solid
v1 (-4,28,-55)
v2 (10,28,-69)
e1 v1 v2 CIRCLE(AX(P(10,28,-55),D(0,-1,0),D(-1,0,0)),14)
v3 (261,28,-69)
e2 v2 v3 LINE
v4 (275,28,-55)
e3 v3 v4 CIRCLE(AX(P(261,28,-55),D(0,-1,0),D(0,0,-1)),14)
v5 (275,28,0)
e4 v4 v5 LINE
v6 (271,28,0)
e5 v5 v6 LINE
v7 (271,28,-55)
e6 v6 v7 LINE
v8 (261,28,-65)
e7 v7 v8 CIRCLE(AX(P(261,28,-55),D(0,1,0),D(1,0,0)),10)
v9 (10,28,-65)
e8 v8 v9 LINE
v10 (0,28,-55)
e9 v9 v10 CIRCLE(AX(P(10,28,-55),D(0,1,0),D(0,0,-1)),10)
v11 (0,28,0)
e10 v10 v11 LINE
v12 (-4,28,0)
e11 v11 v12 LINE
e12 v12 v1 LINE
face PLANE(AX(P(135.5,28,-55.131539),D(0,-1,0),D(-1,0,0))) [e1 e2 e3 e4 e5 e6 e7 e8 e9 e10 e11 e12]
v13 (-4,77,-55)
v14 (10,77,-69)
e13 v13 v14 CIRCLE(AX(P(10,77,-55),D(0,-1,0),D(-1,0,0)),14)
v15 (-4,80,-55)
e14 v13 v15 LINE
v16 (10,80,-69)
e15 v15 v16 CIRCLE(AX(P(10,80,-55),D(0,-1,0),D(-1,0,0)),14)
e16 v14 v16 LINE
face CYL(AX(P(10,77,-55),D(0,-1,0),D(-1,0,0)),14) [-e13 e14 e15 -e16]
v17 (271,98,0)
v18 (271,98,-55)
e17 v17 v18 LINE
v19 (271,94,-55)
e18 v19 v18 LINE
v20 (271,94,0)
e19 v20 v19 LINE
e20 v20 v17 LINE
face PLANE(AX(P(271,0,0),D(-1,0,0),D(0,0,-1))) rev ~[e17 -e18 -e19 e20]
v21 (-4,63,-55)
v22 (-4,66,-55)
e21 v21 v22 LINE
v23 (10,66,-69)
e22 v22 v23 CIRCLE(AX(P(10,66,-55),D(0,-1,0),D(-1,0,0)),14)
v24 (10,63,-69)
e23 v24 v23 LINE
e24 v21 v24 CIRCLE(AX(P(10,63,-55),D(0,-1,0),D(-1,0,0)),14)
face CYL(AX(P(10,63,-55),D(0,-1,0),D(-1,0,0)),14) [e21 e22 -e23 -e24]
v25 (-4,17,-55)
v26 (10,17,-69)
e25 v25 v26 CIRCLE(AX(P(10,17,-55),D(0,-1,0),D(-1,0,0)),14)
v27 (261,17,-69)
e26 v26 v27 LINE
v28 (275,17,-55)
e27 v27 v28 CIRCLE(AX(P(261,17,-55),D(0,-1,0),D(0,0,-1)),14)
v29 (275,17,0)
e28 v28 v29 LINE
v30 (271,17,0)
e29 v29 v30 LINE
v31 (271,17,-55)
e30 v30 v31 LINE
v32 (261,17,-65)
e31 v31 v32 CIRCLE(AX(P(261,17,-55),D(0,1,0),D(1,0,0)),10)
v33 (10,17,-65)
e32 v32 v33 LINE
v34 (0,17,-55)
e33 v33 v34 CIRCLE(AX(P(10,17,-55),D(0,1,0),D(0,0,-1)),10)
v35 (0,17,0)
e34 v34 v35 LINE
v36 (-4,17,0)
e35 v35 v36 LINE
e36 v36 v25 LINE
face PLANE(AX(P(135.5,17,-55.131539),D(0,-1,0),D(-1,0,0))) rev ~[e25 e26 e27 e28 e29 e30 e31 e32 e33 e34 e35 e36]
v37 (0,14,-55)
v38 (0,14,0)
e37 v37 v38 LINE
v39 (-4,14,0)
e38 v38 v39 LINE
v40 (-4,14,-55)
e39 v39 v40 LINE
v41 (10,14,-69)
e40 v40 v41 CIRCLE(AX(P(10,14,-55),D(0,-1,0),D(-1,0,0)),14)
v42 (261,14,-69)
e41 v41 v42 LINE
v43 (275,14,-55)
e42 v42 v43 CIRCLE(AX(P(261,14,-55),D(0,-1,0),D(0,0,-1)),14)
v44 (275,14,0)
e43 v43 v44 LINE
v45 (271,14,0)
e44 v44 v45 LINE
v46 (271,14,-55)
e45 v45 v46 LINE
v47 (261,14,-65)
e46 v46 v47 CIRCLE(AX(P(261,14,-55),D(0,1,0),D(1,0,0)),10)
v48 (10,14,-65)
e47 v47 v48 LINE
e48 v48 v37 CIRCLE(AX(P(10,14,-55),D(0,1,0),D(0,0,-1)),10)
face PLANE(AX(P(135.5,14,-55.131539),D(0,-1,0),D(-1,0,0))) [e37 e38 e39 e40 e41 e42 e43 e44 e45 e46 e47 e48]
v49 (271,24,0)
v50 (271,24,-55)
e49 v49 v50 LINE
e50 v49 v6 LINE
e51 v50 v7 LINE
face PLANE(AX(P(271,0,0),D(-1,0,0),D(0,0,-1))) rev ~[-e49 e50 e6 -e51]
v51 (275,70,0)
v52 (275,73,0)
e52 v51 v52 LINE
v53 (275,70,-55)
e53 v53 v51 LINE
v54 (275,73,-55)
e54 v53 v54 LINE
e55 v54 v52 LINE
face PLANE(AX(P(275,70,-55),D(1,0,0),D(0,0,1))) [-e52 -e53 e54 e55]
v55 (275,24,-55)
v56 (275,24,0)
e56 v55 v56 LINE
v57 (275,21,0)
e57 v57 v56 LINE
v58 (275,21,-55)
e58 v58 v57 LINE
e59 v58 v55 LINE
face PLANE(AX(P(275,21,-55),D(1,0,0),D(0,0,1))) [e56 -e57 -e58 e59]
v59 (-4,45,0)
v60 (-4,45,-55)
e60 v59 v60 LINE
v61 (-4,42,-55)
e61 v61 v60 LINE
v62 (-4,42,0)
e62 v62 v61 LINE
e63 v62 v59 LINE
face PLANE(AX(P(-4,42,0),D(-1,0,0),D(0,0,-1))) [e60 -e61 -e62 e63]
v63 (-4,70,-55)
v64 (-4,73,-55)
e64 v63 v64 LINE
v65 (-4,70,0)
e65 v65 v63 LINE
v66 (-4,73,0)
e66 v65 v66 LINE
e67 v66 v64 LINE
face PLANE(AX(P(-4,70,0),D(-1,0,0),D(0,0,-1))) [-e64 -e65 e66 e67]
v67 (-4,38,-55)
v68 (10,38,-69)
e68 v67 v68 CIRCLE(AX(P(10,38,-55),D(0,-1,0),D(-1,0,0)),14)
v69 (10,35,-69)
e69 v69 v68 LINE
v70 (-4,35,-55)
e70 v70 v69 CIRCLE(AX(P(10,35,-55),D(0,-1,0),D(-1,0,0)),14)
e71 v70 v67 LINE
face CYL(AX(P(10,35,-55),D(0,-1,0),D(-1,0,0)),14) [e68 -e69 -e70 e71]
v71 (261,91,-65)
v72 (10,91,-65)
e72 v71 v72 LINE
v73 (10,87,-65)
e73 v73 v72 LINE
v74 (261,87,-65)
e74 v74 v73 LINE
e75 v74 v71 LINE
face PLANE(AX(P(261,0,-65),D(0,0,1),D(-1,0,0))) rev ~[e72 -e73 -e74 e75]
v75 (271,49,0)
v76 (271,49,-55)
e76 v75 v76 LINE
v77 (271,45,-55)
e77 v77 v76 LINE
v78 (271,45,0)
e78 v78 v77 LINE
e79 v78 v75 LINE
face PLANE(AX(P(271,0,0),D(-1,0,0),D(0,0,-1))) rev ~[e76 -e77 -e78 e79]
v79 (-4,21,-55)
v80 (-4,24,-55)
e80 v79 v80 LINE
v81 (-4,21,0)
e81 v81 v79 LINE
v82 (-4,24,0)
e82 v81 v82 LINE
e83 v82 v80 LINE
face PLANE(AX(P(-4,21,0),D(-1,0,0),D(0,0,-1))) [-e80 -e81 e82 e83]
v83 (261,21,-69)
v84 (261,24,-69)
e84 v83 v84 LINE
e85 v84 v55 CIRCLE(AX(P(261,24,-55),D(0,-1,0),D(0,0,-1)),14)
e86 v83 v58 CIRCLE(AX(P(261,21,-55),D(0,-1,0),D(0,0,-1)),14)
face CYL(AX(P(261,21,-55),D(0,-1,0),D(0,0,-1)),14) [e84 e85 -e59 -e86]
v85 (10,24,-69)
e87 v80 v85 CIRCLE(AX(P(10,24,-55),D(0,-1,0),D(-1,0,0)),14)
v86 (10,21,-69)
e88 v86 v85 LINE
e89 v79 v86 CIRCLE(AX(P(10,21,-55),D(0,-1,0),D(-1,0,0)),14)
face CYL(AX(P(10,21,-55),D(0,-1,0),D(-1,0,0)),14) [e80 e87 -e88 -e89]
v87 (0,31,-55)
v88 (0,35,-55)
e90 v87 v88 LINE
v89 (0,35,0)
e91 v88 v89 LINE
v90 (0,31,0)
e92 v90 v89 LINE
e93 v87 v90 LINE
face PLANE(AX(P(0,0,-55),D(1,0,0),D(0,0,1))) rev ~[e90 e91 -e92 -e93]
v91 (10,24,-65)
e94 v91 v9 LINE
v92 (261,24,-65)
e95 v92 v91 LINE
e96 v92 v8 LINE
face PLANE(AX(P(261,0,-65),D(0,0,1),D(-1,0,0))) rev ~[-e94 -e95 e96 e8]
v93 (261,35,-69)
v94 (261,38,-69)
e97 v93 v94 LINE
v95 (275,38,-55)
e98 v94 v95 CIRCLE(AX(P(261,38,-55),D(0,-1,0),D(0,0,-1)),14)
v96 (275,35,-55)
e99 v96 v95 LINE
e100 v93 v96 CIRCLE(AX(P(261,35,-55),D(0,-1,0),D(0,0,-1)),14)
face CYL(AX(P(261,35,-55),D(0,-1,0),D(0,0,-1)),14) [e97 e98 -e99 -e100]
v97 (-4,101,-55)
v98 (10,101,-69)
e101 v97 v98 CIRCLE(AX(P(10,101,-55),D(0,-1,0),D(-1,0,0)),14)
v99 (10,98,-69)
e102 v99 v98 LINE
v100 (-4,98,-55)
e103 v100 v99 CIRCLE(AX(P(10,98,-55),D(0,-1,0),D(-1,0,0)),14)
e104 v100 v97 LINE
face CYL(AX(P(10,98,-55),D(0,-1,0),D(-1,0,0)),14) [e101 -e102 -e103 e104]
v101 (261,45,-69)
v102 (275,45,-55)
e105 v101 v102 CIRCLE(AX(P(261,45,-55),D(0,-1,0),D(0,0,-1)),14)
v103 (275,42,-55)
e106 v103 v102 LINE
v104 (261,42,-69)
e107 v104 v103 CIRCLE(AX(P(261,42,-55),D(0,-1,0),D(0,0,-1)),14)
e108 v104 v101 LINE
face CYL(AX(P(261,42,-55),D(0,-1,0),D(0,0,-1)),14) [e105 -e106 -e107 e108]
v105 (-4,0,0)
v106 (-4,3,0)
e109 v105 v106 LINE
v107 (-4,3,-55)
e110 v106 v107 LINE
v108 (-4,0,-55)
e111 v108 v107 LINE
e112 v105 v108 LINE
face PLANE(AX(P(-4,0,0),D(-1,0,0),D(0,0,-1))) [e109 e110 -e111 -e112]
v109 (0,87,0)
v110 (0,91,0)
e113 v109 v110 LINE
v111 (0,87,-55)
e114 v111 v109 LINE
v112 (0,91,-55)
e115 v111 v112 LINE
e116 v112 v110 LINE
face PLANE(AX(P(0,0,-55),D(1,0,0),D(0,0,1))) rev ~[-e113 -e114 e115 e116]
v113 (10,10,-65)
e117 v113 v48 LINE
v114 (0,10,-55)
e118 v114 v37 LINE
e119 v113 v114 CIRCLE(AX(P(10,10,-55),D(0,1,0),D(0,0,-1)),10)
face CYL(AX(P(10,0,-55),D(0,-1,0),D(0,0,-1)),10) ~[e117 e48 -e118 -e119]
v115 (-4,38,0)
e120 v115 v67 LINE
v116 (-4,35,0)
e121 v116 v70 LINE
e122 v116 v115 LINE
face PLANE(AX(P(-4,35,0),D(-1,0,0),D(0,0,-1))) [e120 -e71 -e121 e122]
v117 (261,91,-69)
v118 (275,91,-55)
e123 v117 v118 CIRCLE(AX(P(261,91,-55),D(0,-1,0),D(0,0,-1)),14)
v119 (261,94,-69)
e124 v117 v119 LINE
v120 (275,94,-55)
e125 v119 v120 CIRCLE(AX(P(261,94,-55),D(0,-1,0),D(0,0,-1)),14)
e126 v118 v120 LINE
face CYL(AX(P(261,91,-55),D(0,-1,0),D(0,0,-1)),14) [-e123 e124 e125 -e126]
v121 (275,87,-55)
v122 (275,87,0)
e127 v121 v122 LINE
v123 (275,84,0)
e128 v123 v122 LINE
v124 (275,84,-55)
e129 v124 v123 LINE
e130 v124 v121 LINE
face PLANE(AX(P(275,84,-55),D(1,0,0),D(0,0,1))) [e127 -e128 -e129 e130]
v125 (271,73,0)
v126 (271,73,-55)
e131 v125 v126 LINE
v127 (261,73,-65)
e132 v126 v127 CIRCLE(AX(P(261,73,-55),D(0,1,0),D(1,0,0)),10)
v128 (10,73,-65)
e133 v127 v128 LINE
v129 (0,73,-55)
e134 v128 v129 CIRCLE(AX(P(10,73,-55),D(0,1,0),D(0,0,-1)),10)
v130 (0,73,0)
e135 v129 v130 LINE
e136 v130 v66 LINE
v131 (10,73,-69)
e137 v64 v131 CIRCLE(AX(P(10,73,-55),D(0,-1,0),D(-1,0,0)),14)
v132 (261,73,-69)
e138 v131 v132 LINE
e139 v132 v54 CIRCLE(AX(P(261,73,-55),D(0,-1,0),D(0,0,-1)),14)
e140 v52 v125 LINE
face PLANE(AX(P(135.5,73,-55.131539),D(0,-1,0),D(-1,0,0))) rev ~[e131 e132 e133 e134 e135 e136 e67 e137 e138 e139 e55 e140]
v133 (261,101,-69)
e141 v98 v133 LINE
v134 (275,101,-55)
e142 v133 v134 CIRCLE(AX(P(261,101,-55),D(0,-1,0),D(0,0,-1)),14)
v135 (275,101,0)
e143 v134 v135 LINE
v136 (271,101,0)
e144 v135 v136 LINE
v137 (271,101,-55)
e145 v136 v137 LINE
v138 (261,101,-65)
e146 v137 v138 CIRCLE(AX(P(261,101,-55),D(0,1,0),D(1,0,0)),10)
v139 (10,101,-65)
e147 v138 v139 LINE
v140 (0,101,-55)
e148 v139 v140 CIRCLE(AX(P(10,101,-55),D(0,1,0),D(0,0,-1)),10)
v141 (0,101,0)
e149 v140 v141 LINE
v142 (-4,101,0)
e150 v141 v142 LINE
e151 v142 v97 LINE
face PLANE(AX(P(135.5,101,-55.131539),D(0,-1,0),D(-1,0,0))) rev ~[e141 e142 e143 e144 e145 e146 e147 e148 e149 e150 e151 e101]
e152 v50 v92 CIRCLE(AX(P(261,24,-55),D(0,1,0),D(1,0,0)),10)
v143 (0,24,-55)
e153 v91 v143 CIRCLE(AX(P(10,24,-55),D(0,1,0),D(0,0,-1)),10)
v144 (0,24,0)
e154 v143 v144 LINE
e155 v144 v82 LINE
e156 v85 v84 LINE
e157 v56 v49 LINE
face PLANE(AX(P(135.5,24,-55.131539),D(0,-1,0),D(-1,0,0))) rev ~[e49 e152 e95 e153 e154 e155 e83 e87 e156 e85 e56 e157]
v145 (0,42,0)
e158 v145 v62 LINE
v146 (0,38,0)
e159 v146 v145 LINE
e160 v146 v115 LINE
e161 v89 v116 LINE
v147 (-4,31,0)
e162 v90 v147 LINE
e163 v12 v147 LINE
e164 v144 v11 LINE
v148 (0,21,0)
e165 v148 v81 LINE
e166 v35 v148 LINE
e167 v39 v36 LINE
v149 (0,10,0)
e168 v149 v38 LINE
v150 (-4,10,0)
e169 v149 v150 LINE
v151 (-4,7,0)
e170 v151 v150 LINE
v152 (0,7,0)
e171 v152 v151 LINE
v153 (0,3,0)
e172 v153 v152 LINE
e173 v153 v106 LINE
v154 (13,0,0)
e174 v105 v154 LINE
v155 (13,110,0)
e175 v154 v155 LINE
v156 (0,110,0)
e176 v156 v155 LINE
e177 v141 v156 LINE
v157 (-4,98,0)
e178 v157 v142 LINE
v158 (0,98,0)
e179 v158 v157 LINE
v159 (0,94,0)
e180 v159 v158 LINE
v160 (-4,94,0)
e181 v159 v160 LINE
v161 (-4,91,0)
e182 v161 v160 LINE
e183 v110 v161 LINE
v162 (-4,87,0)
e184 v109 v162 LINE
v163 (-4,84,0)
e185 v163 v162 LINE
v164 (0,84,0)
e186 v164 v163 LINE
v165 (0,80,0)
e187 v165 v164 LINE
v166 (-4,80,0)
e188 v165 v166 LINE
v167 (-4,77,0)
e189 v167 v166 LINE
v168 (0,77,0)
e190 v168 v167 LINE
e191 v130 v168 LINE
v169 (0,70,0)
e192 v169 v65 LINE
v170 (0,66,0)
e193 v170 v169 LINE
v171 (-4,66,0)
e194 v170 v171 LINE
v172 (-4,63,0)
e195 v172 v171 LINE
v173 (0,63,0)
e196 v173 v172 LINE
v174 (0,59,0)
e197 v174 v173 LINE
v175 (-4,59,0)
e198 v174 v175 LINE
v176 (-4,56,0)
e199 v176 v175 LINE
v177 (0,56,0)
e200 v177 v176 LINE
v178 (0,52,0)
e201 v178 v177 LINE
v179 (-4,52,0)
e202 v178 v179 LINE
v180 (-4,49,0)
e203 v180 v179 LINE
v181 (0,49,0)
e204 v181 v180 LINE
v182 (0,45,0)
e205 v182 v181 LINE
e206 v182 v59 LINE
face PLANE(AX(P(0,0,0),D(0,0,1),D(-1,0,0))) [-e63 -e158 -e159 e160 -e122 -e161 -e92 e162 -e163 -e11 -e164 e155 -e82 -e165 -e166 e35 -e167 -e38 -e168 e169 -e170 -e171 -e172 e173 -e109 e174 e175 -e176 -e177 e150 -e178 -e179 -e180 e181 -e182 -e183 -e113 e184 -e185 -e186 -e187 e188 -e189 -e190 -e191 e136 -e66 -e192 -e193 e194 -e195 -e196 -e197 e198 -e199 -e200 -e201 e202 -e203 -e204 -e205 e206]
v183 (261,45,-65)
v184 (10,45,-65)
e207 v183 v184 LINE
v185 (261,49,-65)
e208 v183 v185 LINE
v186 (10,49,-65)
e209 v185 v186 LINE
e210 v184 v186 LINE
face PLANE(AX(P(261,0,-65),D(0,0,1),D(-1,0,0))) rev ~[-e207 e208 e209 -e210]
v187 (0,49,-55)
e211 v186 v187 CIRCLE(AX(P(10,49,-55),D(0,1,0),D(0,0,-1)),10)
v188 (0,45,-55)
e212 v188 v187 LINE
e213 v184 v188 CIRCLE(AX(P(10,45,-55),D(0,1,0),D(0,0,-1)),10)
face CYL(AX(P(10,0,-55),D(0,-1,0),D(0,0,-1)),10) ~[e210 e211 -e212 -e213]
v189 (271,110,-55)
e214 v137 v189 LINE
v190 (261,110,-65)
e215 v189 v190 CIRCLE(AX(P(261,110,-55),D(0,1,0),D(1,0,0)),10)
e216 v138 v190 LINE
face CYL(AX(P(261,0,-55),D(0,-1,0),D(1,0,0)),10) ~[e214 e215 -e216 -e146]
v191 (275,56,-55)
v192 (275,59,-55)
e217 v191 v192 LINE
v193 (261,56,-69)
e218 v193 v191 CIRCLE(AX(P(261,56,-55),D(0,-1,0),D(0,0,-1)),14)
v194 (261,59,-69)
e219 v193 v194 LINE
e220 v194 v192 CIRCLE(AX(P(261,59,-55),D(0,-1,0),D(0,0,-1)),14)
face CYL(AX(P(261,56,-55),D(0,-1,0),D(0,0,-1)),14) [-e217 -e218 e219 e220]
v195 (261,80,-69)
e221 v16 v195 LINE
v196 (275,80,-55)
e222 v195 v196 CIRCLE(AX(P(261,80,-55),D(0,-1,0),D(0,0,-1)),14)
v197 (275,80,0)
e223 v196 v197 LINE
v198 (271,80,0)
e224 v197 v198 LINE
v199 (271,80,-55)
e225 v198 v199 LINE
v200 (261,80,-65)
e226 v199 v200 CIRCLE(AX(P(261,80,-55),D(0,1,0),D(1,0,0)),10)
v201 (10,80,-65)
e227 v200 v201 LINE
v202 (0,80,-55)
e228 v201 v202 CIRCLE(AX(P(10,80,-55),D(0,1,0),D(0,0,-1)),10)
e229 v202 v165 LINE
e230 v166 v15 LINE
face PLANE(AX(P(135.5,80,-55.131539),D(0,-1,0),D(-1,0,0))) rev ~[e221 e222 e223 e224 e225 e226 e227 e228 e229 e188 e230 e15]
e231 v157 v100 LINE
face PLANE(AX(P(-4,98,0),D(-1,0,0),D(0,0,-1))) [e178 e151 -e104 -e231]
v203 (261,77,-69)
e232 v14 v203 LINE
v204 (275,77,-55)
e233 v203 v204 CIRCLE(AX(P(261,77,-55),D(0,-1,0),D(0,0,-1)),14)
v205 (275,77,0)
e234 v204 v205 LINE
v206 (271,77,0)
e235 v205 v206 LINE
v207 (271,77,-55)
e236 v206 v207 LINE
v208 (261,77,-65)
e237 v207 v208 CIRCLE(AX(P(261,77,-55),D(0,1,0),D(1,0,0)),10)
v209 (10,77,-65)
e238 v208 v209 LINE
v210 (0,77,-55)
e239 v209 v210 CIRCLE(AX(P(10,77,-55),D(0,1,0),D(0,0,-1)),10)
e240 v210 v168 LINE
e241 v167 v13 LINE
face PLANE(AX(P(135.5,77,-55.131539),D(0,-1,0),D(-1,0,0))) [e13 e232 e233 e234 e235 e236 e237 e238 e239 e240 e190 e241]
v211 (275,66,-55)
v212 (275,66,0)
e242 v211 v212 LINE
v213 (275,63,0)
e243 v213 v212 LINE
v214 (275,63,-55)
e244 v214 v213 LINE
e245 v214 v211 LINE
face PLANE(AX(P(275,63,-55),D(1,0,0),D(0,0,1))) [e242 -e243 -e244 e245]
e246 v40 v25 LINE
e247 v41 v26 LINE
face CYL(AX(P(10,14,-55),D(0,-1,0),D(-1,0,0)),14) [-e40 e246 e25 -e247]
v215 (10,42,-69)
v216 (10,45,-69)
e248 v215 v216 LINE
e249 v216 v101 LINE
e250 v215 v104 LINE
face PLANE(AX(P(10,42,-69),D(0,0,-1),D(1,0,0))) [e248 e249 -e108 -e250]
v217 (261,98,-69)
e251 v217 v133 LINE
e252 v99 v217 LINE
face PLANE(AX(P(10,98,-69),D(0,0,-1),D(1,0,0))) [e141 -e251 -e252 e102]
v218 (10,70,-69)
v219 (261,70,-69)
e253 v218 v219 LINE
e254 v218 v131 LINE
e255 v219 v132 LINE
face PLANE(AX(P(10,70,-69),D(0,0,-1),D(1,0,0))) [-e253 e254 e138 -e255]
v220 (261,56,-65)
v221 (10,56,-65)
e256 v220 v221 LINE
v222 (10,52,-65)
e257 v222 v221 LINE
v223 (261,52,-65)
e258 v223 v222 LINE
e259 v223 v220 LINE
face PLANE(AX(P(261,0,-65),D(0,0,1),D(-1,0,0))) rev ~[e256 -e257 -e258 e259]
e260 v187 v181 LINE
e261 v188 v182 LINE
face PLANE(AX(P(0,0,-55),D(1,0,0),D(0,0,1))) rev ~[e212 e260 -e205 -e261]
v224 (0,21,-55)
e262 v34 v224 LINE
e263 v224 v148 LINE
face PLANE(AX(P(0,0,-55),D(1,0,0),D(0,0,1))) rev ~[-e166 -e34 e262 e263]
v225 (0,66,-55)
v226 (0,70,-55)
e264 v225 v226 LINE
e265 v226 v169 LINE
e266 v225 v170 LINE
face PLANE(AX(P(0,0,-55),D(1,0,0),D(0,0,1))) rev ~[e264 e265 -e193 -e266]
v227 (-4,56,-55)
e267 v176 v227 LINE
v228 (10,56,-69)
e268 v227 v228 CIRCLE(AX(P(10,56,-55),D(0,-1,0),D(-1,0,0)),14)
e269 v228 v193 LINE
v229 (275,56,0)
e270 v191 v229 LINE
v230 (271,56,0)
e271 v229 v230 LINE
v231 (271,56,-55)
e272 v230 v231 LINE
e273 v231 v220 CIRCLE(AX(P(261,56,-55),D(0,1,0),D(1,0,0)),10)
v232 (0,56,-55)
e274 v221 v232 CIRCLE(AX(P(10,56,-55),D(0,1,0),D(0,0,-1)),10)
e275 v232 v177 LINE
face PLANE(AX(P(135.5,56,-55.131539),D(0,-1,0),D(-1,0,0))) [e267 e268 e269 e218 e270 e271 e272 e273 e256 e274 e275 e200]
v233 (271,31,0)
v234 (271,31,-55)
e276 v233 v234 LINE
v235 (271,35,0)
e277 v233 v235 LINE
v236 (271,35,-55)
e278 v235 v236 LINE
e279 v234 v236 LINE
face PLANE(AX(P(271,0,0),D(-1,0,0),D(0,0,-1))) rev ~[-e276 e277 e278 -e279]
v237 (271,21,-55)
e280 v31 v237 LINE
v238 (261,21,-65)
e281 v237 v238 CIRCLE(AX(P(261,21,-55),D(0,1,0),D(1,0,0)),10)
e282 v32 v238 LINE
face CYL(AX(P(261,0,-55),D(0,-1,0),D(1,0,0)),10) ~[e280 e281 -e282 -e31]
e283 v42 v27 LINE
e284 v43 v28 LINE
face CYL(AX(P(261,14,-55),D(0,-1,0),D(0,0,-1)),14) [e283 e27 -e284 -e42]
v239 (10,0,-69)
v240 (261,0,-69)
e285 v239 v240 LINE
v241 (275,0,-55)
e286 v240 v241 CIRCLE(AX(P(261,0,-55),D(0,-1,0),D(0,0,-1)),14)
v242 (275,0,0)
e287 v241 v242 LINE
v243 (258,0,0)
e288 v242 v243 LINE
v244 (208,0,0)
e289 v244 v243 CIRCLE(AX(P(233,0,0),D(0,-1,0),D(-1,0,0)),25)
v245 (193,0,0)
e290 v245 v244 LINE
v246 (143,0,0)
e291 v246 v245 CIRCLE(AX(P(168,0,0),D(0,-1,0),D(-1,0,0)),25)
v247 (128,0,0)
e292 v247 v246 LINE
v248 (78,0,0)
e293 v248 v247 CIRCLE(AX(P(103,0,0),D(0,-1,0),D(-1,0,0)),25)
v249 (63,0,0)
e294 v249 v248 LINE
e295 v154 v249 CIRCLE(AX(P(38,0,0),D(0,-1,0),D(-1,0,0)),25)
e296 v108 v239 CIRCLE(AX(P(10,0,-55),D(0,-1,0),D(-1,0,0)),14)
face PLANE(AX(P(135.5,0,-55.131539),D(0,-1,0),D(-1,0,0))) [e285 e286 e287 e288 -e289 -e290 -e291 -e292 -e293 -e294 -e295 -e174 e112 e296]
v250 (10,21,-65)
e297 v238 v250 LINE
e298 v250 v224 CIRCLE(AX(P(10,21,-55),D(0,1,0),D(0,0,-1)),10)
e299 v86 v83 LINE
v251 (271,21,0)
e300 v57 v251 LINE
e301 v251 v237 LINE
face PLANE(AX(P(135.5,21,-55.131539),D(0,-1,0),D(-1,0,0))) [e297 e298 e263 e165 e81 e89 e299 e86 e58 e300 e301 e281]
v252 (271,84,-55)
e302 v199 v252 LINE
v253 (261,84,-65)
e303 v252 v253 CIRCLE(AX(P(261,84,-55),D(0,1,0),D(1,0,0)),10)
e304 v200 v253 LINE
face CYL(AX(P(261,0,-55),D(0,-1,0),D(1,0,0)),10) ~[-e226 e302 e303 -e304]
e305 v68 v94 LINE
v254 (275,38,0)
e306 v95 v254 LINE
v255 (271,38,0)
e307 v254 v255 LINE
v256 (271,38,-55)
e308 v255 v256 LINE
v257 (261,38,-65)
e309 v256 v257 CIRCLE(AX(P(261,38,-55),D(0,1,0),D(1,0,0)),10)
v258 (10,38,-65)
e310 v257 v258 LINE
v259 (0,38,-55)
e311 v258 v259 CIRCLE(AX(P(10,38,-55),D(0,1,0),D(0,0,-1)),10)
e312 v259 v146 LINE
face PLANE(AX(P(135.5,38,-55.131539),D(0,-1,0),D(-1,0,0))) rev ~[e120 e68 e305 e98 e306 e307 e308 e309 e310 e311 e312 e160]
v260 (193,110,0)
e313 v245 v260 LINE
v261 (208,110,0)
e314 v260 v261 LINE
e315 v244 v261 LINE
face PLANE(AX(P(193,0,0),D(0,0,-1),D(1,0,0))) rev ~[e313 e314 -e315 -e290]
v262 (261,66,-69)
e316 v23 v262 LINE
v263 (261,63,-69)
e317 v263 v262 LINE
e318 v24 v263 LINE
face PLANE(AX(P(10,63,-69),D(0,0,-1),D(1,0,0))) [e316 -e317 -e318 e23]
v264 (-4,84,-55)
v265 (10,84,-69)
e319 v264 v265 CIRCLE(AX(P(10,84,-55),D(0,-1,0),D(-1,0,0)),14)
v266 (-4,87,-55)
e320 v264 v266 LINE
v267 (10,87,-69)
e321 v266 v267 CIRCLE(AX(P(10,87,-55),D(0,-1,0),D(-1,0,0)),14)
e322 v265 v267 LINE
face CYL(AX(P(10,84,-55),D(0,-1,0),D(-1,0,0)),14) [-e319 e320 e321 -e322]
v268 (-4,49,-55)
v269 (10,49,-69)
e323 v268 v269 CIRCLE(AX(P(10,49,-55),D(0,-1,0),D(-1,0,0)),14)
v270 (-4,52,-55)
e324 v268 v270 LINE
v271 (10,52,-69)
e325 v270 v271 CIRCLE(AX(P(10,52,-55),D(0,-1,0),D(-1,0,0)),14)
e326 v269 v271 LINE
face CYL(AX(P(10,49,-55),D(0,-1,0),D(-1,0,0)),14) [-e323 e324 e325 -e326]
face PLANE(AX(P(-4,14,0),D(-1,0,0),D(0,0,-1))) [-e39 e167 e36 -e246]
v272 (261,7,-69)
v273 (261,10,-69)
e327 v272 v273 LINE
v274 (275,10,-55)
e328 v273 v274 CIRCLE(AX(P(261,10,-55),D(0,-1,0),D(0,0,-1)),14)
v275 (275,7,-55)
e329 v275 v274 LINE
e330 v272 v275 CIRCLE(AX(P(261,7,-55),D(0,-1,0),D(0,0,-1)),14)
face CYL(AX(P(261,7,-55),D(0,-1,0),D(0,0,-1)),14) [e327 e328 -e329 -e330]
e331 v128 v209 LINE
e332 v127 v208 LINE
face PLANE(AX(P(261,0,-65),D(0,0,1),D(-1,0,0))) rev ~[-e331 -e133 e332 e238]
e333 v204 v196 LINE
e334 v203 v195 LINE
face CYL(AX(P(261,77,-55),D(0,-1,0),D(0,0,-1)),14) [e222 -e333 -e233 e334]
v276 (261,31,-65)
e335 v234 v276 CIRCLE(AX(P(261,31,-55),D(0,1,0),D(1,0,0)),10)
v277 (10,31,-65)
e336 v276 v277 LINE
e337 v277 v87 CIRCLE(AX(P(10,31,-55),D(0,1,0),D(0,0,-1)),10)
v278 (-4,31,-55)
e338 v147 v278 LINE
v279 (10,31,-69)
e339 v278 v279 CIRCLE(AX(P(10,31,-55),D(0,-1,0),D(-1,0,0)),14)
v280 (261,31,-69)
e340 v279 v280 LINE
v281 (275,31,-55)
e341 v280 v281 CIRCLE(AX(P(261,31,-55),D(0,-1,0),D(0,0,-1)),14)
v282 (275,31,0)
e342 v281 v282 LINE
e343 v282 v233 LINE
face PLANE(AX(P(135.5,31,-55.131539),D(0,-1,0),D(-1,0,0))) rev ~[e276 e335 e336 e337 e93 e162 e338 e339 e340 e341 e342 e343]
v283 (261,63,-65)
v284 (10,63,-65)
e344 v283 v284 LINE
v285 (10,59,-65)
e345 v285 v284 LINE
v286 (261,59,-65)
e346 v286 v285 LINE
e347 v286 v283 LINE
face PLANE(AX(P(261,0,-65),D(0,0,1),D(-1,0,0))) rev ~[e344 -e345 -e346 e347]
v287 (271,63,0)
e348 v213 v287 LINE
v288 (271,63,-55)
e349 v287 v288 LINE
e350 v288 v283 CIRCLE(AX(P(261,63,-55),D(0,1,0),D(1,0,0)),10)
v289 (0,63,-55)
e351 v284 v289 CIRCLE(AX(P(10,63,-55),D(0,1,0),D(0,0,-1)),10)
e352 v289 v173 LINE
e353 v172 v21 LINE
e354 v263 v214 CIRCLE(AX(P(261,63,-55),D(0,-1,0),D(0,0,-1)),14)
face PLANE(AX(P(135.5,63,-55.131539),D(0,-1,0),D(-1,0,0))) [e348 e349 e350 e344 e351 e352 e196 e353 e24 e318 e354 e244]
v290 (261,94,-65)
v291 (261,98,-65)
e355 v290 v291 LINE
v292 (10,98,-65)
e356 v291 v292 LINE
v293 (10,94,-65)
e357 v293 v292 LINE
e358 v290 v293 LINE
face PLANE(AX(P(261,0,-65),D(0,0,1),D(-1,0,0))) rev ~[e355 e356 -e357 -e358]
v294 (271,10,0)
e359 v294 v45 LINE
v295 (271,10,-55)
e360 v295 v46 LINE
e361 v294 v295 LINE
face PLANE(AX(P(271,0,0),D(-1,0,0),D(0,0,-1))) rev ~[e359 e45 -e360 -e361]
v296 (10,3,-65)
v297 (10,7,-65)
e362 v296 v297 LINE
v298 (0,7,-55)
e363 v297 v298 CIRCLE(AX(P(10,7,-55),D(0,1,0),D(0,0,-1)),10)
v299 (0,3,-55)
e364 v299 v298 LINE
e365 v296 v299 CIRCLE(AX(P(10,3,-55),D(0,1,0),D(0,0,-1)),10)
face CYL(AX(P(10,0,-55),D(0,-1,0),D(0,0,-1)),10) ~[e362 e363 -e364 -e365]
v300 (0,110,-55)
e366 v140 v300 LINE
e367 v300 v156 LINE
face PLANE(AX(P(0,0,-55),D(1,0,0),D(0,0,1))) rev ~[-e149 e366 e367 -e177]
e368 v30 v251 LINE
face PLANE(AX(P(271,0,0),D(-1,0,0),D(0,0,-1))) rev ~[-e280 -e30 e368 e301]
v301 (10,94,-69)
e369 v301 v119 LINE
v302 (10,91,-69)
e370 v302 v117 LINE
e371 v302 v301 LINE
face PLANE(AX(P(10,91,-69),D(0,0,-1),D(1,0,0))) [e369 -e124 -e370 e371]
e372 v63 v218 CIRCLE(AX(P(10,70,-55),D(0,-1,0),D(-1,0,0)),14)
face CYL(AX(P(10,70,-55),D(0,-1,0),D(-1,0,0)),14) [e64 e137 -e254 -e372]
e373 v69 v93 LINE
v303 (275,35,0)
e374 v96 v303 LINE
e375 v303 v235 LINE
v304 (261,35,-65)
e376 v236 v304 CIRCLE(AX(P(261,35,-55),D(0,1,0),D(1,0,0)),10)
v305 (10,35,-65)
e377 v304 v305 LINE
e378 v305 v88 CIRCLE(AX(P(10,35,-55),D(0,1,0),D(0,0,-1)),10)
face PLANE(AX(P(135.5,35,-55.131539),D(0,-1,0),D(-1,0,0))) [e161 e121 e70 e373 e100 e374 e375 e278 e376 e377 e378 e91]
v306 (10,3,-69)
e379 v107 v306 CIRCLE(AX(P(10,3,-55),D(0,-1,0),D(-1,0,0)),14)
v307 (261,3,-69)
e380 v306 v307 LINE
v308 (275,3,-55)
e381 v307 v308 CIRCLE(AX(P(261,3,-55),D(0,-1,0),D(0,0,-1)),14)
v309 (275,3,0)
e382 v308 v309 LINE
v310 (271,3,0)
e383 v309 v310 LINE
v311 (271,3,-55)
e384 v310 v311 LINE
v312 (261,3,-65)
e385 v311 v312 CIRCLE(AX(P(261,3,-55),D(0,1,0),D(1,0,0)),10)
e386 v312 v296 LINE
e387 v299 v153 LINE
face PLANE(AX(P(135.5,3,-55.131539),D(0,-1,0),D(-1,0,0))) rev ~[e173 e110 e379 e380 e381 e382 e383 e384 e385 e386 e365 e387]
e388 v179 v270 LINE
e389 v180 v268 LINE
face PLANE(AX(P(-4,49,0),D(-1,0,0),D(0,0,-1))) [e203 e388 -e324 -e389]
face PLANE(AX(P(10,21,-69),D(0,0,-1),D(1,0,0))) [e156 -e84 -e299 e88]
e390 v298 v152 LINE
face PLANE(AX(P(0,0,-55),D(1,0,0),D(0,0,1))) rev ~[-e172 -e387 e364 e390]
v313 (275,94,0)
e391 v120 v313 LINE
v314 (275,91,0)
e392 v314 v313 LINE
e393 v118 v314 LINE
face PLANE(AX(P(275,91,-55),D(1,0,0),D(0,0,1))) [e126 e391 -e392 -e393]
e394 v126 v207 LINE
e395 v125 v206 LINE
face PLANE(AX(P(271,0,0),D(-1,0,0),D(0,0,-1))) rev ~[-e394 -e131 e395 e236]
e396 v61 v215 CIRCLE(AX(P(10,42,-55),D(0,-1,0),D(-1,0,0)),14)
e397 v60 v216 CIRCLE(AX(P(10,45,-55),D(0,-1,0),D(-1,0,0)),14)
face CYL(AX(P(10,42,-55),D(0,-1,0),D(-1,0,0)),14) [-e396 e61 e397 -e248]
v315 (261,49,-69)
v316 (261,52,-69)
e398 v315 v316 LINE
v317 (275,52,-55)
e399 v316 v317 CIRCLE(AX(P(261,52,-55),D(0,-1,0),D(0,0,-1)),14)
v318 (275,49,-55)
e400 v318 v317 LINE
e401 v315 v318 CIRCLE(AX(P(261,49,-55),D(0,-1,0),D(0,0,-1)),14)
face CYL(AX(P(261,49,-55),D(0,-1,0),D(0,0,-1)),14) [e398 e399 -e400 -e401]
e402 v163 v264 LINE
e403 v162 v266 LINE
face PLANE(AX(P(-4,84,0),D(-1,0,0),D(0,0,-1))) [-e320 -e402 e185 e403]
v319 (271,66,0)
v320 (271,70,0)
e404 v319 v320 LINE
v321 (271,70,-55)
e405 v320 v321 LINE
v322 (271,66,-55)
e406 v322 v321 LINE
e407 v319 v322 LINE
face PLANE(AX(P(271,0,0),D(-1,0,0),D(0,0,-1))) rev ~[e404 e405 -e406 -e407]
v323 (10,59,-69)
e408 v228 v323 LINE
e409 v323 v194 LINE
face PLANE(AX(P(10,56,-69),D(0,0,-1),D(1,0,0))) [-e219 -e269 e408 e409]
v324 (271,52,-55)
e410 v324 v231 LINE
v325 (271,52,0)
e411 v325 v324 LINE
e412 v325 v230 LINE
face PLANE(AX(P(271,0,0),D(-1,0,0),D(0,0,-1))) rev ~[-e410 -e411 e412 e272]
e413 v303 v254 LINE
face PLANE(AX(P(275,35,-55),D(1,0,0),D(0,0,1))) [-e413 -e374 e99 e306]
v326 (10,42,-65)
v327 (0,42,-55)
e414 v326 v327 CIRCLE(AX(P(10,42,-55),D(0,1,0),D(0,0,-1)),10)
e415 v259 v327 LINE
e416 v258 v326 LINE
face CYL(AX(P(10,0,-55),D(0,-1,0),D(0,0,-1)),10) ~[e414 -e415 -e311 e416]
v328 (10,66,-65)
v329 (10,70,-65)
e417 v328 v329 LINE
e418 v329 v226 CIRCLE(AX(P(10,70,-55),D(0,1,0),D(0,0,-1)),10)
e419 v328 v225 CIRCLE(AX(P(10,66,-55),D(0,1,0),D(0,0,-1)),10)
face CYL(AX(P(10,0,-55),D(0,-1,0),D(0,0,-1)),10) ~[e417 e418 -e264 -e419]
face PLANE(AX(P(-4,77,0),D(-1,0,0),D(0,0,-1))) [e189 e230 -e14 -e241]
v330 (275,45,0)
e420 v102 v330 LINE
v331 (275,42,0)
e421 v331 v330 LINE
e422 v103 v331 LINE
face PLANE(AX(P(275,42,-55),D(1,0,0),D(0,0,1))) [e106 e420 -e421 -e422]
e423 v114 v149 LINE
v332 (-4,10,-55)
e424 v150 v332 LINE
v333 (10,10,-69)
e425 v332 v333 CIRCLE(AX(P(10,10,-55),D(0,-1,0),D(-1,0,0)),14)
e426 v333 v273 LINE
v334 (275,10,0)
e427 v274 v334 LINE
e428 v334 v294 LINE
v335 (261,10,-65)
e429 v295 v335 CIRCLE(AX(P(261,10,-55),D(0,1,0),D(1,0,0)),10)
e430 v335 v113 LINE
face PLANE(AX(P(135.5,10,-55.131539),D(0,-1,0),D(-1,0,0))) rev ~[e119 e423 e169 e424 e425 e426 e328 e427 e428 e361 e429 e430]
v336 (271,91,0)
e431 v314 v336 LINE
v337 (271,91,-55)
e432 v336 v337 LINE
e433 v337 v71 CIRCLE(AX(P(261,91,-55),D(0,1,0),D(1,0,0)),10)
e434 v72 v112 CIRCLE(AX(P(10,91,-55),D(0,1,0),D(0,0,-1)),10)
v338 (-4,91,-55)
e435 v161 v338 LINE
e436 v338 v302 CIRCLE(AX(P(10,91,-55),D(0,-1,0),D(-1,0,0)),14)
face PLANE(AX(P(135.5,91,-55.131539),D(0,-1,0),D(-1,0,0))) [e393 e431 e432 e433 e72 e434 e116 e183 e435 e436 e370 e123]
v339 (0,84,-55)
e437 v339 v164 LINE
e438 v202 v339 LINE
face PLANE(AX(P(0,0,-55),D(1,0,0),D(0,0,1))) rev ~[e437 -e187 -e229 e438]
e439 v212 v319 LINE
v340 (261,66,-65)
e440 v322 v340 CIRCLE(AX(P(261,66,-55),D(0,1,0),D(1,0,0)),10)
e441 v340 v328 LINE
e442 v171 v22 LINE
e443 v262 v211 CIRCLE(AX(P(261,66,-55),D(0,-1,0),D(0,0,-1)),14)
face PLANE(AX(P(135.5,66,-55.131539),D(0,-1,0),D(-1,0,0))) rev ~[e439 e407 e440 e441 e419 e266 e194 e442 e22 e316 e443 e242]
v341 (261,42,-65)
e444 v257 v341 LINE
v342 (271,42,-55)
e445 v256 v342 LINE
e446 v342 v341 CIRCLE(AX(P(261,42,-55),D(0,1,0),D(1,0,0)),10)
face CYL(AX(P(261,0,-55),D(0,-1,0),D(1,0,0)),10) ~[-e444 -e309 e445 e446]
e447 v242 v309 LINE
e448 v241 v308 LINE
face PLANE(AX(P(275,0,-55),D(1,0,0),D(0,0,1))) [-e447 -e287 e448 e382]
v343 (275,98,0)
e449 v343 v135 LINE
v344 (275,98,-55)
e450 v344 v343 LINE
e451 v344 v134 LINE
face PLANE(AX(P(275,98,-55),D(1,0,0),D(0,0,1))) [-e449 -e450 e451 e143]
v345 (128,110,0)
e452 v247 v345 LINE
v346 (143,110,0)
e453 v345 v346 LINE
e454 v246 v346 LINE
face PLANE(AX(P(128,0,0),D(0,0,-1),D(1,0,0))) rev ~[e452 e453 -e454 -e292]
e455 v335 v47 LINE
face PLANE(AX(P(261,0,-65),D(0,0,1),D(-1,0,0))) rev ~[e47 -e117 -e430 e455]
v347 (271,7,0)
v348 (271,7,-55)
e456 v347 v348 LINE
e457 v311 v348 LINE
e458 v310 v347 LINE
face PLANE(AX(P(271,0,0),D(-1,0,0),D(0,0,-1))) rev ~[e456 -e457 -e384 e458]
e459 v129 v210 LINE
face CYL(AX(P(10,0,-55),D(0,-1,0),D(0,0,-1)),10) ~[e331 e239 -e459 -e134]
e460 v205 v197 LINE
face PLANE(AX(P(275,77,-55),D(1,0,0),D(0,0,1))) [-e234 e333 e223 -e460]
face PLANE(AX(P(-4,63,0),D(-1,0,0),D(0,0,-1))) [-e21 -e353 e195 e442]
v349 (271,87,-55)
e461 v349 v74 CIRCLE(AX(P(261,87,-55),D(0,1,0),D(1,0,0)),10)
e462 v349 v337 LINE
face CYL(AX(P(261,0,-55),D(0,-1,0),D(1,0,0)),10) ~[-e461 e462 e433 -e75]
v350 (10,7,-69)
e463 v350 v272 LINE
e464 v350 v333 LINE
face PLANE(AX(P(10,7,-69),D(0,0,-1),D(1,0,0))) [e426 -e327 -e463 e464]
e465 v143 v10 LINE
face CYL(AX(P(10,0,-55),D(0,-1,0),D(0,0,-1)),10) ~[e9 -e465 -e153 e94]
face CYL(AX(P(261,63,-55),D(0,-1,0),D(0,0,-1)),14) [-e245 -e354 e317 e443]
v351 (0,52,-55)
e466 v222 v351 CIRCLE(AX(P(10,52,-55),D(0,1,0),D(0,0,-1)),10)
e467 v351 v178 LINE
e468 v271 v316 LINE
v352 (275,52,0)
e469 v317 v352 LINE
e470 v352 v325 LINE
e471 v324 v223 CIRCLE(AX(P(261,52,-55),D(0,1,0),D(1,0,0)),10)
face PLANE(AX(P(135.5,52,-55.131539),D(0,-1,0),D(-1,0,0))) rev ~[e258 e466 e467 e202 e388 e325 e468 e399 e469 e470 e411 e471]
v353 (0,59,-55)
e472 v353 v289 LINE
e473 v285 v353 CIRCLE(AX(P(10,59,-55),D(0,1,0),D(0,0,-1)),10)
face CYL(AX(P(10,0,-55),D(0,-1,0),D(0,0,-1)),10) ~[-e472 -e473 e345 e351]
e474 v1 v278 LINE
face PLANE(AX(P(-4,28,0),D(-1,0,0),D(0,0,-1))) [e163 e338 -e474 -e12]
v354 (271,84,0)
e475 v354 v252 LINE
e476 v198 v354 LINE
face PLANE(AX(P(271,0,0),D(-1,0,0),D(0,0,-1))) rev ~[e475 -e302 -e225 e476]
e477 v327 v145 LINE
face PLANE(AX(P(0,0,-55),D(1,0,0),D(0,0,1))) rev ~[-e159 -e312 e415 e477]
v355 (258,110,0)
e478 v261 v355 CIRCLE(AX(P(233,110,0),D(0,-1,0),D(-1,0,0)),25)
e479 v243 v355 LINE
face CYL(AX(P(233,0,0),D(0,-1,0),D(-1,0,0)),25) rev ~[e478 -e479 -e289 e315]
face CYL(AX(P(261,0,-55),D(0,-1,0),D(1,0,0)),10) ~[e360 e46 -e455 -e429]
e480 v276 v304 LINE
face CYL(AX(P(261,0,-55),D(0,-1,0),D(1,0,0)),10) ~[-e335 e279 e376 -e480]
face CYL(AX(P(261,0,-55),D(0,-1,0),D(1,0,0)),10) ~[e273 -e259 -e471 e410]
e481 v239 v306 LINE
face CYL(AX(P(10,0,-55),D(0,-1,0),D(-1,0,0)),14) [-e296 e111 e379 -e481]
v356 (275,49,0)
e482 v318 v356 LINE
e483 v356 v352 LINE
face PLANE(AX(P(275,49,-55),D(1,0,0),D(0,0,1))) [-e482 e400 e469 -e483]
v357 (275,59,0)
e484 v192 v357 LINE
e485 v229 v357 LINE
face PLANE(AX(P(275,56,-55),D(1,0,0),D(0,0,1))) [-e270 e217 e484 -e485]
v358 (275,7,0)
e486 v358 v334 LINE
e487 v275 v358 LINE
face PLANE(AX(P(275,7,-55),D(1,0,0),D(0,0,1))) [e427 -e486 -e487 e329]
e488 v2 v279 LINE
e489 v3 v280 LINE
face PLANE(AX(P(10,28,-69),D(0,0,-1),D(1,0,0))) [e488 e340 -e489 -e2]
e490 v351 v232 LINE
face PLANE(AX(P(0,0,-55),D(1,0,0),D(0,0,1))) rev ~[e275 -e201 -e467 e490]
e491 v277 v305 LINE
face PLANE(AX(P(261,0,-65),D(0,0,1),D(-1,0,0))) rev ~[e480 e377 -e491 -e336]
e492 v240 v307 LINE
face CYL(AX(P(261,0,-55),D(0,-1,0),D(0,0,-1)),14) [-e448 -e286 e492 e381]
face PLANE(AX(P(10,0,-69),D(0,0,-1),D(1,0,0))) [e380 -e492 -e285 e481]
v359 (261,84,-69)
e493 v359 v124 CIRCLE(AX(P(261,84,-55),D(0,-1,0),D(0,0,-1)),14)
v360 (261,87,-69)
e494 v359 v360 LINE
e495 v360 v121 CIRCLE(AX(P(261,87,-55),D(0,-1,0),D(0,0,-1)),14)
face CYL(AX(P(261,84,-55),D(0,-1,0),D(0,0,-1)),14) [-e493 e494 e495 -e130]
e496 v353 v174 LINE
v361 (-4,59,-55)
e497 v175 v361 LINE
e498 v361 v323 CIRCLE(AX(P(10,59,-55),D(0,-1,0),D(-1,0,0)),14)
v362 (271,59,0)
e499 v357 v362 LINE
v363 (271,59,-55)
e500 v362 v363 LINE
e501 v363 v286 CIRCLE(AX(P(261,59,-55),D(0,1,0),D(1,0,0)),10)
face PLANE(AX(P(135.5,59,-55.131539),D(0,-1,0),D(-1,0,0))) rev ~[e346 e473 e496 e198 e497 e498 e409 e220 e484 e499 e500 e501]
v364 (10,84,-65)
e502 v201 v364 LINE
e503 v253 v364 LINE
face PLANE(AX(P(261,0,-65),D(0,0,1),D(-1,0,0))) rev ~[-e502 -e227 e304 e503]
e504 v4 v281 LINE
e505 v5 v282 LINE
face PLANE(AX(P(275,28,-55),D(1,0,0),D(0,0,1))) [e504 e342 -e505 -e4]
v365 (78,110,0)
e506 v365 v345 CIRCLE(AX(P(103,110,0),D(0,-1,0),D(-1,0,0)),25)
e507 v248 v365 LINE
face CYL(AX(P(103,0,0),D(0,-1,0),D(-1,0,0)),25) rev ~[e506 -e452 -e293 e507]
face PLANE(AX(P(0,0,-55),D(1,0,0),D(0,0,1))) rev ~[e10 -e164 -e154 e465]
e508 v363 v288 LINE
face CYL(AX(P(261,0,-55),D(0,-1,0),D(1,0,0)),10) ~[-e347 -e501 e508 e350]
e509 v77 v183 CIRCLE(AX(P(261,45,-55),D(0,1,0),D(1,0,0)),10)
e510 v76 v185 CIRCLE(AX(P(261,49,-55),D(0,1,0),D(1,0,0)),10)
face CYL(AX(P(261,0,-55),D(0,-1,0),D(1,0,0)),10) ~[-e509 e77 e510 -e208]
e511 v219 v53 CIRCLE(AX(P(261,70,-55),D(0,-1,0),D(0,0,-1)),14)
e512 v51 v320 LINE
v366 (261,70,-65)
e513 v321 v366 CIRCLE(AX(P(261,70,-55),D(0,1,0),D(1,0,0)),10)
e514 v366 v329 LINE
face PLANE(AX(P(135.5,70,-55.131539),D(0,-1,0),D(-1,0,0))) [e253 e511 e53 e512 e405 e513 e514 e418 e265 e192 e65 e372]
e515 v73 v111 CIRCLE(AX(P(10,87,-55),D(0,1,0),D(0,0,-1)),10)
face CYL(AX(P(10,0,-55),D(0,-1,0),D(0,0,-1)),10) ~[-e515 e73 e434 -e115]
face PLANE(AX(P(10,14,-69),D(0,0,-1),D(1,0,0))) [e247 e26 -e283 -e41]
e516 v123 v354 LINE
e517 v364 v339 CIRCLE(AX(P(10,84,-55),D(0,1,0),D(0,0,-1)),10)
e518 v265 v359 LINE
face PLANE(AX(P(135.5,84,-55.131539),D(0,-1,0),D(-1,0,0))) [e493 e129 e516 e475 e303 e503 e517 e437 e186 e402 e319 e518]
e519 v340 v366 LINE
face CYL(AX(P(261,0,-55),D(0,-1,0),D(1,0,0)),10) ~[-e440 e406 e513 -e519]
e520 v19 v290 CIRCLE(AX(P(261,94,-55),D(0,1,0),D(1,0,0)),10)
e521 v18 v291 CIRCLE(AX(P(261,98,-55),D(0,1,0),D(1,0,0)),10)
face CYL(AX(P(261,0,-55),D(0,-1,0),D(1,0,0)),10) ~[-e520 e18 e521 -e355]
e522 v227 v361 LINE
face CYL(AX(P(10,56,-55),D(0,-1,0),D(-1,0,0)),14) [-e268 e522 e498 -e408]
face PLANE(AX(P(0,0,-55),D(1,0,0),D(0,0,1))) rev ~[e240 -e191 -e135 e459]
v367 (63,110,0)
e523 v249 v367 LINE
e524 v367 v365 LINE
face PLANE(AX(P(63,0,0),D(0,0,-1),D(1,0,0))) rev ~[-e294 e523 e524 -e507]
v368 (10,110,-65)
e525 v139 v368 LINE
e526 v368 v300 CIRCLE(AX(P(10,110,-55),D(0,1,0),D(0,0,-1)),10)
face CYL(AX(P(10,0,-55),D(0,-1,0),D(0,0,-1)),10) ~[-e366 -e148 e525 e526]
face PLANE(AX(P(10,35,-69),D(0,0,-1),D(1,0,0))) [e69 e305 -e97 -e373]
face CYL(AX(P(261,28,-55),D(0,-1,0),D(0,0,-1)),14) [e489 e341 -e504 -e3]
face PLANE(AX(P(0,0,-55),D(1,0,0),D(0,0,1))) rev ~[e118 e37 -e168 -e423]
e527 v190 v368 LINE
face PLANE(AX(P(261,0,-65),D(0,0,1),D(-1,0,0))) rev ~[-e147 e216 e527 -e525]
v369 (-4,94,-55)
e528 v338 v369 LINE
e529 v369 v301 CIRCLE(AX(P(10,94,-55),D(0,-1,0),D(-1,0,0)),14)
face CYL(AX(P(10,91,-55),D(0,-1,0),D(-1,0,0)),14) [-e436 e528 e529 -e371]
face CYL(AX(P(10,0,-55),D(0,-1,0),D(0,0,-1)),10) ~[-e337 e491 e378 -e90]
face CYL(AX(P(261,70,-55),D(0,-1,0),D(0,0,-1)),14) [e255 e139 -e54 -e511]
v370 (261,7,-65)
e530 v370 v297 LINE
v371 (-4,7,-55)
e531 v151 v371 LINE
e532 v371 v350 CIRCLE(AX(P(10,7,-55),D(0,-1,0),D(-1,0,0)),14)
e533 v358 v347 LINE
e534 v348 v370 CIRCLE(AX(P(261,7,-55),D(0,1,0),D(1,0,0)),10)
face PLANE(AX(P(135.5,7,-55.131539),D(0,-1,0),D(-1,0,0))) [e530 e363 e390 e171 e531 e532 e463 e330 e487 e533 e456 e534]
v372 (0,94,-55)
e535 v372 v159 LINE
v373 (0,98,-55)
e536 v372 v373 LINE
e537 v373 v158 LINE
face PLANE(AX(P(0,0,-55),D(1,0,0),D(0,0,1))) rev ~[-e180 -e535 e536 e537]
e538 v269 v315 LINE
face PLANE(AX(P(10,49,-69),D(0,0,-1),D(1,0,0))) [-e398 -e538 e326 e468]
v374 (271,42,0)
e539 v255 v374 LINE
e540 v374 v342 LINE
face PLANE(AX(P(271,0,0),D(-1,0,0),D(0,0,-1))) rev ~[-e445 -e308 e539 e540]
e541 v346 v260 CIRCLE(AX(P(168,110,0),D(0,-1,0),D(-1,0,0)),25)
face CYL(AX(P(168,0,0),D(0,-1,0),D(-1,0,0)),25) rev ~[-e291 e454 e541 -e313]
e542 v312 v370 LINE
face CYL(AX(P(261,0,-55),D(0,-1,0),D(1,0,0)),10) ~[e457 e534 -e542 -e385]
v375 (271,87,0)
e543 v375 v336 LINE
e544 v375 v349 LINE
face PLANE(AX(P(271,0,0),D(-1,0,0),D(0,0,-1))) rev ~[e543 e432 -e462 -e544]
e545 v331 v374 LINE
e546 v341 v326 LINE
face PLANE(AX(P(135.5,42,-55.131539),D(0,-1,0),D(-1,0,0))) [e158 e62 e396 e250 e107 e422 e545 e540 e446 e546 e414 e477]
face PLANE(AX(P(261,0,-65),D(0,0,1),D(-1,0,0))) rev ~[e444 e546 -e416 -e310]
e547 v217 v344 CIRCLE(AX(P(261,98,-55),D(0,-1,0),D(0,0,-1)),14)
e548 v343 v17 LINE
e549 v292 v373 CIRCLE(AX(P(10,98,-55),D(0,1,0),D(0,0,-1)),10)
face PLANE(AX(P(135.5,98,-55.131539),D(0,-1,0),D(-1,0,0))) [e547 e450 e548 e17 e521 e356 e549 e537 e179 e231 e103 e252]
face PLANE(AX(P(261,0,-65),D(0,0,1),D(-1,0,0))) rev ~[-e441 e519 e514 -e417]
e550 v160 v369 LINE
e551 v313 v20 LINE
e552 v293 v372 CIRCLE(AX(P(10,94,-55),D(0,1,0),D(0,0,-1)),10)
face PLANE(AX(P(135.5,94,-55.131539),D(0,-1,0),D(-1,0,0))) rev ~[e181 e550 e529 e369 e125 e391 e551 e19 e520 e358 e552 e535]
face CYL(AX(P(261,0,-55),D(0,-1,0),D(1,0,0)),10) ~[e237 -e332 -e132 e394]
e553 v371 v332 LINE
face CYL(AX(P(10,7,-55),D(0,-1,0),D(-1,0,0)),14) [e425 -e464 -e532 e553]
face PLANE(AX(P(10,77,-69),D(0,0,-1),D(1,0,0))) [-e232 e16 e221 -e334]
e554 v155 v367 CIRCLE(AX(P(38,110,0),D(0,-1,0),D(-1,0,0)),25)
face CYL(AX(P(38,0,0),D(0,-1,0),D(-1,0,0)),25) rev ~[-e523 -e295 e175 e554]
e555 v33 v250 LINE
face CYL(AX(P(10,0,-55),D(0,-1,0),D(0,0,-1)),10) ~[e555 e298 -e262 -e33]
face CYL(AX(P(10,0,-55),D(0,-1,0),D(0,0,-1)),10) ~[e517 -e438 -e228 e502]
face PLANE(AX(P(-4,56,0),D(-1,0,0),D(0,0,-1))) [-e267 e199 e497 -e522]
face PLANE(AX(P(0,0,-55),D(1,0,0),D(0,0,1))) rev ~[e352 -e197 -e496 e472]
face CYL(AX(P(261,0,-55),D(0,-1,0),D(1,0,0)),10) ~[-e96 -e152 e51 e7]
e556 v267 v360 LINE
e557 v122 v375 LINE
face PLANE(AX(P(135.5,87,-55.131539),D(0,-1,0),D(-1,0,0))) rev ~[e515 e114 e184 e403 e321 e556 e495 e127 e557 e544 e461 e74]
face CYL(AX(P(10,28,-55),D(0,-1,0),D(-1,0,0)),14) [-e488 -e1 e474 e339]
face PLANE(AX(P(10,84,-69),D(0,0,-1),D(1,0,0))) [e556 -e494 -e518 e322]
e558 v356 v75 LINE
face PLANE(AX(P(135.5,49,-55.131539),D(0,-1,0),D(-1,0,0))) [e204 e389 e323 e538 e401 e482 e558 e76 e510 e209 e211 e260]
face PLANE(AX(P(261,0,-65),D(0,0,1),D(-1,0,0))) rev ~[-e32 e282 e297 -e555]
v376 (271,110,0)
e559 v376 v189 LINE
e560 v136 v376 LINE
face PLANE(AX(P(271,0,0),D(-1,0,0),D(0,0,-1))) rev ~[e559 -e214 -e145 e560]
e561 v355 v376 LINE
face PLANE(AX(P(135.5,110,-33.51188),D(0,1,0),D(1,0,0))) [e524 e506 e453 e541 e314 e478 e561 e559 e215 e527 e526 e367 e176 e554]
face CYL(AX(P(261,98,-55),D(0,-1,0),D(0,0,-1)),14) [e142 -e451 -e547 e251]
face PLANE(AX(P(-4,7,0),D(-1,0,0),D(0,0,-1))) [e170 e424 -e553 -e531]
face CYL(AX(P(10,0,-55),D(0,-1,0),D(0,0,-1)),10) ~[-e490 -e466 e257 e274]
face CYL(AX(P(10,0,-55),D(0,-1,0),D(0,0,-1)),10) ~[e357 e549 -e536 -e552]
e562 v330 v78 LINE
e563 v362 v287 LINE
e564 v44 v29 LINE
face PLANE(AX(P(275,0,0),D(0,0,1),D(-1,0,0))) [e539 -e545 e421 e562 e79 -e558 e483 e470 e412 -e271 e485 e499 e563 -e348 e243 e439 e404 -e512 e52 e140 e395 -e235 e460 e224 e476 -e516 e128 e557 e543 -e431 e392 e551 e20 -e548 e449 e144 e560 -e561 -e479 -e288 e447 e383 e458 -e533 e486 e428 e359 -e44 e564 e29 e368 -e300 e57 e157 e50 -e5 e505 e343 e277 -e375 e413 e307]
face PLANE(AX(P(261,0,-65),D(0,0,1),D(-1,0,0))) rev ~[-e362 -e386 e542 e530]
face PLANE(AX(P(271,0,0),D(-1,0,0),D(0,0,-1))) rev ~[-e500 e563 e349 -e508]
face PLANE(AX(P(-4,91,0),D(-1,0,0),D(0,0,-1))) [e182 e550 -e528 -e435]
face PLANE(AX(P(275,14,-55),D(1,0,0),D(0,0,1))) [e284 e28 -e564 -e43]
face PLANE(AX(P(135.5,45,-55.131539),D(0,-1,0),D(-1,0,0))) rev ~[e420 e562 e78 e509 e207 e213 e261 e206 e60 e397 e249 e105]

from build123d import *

# Parameters (mm, degrees)
BOSS_EXTRUDE1_DEPTH = 110
BOSS_EXTRUDE2_DEPTH = 3
LPATTERN2_COUNT     = 15
LPATTERN2_PITCH     = 7


with BuildPart() as part:
    # Sketch1 → Boss-Extrude1 (new body)
    with BuildSketch(Plane(origin=(0, 0, 0), x_dir=(1, 0, 0), z_dir=(0, 1, 0))):
        with BuildLine():
            Line((0, 0), (13, 0))
            ThreePointArc((13, 0), (38, 25), (63, 0))
            Line((63, 0), (78, 0))
            ThreePointArc((78, 0), (103, 25), (128, 0))
            Line((128, 0), (143, 0))
            ThreePointArc((143, 0), (168, 25), (193, 0))
            Line((193, 0), (208, 0))
            ThreePointArc((208, 0), (233, 25), (258, 0))
            Line((258, 0), (271, 0))
            Line((271, 0), (271, 55))
            ThreePointArc((271, 55), (268.071067812, 62.071067812), (261, 65))
            Line((261, 65), (10, 65))
            ThreePointArc((10, 65), (2.928932188, 62.071067812), (0, 55))
            Line((0, 55), (0, 0))
        make_face()
    extrude(amount=BOSS_EXTRUDE1_DEPTH)

    # Sketch2 → Boss-Extrude2 (add)
    with BuildSketch(Plane(origin=(0, 0, 0), x_dir=(1, 0, 0), z_dir=(0, 1, 0))):
        with BuildLine():
            Line((271, 0), (271, 55))
            ThreePointArc((271, 55), (268.071067812, 62.071067812), (261, 65))
            Line((261, 65), (10, 65))
            ThreePointArc((10, 65), (2.928932188, 62.071067812), (0, 55))
            Line((0, 55), (0, 0))
            Line((0, 0), (-4, 0))
            Line((-4, 0), (-4, 55))
            ThreePointArc((-4, 55), (0.100505063, 64.899494937), (10, 69))
            Line((10, 69), (261, 69))
            ThreePointArc((261, 69), (270.899494937, 64.899494937), (275, 55))
            Line((275, 55), (275, 0))
            Line((275, 0), (271, 0))
        make_face()
    boss_extrude2 = extrude(amount=BOSS_EXTRUDE2_DEPTH)

    # LPattern2: Boss-Extrude2 ×15
    with Locations(*[(0, i * LPATTERN2_PITCH, 0) for i in range(1, LPATTERN2_COUNT)]):
        add(boss_extrude2)


solid = part.part
